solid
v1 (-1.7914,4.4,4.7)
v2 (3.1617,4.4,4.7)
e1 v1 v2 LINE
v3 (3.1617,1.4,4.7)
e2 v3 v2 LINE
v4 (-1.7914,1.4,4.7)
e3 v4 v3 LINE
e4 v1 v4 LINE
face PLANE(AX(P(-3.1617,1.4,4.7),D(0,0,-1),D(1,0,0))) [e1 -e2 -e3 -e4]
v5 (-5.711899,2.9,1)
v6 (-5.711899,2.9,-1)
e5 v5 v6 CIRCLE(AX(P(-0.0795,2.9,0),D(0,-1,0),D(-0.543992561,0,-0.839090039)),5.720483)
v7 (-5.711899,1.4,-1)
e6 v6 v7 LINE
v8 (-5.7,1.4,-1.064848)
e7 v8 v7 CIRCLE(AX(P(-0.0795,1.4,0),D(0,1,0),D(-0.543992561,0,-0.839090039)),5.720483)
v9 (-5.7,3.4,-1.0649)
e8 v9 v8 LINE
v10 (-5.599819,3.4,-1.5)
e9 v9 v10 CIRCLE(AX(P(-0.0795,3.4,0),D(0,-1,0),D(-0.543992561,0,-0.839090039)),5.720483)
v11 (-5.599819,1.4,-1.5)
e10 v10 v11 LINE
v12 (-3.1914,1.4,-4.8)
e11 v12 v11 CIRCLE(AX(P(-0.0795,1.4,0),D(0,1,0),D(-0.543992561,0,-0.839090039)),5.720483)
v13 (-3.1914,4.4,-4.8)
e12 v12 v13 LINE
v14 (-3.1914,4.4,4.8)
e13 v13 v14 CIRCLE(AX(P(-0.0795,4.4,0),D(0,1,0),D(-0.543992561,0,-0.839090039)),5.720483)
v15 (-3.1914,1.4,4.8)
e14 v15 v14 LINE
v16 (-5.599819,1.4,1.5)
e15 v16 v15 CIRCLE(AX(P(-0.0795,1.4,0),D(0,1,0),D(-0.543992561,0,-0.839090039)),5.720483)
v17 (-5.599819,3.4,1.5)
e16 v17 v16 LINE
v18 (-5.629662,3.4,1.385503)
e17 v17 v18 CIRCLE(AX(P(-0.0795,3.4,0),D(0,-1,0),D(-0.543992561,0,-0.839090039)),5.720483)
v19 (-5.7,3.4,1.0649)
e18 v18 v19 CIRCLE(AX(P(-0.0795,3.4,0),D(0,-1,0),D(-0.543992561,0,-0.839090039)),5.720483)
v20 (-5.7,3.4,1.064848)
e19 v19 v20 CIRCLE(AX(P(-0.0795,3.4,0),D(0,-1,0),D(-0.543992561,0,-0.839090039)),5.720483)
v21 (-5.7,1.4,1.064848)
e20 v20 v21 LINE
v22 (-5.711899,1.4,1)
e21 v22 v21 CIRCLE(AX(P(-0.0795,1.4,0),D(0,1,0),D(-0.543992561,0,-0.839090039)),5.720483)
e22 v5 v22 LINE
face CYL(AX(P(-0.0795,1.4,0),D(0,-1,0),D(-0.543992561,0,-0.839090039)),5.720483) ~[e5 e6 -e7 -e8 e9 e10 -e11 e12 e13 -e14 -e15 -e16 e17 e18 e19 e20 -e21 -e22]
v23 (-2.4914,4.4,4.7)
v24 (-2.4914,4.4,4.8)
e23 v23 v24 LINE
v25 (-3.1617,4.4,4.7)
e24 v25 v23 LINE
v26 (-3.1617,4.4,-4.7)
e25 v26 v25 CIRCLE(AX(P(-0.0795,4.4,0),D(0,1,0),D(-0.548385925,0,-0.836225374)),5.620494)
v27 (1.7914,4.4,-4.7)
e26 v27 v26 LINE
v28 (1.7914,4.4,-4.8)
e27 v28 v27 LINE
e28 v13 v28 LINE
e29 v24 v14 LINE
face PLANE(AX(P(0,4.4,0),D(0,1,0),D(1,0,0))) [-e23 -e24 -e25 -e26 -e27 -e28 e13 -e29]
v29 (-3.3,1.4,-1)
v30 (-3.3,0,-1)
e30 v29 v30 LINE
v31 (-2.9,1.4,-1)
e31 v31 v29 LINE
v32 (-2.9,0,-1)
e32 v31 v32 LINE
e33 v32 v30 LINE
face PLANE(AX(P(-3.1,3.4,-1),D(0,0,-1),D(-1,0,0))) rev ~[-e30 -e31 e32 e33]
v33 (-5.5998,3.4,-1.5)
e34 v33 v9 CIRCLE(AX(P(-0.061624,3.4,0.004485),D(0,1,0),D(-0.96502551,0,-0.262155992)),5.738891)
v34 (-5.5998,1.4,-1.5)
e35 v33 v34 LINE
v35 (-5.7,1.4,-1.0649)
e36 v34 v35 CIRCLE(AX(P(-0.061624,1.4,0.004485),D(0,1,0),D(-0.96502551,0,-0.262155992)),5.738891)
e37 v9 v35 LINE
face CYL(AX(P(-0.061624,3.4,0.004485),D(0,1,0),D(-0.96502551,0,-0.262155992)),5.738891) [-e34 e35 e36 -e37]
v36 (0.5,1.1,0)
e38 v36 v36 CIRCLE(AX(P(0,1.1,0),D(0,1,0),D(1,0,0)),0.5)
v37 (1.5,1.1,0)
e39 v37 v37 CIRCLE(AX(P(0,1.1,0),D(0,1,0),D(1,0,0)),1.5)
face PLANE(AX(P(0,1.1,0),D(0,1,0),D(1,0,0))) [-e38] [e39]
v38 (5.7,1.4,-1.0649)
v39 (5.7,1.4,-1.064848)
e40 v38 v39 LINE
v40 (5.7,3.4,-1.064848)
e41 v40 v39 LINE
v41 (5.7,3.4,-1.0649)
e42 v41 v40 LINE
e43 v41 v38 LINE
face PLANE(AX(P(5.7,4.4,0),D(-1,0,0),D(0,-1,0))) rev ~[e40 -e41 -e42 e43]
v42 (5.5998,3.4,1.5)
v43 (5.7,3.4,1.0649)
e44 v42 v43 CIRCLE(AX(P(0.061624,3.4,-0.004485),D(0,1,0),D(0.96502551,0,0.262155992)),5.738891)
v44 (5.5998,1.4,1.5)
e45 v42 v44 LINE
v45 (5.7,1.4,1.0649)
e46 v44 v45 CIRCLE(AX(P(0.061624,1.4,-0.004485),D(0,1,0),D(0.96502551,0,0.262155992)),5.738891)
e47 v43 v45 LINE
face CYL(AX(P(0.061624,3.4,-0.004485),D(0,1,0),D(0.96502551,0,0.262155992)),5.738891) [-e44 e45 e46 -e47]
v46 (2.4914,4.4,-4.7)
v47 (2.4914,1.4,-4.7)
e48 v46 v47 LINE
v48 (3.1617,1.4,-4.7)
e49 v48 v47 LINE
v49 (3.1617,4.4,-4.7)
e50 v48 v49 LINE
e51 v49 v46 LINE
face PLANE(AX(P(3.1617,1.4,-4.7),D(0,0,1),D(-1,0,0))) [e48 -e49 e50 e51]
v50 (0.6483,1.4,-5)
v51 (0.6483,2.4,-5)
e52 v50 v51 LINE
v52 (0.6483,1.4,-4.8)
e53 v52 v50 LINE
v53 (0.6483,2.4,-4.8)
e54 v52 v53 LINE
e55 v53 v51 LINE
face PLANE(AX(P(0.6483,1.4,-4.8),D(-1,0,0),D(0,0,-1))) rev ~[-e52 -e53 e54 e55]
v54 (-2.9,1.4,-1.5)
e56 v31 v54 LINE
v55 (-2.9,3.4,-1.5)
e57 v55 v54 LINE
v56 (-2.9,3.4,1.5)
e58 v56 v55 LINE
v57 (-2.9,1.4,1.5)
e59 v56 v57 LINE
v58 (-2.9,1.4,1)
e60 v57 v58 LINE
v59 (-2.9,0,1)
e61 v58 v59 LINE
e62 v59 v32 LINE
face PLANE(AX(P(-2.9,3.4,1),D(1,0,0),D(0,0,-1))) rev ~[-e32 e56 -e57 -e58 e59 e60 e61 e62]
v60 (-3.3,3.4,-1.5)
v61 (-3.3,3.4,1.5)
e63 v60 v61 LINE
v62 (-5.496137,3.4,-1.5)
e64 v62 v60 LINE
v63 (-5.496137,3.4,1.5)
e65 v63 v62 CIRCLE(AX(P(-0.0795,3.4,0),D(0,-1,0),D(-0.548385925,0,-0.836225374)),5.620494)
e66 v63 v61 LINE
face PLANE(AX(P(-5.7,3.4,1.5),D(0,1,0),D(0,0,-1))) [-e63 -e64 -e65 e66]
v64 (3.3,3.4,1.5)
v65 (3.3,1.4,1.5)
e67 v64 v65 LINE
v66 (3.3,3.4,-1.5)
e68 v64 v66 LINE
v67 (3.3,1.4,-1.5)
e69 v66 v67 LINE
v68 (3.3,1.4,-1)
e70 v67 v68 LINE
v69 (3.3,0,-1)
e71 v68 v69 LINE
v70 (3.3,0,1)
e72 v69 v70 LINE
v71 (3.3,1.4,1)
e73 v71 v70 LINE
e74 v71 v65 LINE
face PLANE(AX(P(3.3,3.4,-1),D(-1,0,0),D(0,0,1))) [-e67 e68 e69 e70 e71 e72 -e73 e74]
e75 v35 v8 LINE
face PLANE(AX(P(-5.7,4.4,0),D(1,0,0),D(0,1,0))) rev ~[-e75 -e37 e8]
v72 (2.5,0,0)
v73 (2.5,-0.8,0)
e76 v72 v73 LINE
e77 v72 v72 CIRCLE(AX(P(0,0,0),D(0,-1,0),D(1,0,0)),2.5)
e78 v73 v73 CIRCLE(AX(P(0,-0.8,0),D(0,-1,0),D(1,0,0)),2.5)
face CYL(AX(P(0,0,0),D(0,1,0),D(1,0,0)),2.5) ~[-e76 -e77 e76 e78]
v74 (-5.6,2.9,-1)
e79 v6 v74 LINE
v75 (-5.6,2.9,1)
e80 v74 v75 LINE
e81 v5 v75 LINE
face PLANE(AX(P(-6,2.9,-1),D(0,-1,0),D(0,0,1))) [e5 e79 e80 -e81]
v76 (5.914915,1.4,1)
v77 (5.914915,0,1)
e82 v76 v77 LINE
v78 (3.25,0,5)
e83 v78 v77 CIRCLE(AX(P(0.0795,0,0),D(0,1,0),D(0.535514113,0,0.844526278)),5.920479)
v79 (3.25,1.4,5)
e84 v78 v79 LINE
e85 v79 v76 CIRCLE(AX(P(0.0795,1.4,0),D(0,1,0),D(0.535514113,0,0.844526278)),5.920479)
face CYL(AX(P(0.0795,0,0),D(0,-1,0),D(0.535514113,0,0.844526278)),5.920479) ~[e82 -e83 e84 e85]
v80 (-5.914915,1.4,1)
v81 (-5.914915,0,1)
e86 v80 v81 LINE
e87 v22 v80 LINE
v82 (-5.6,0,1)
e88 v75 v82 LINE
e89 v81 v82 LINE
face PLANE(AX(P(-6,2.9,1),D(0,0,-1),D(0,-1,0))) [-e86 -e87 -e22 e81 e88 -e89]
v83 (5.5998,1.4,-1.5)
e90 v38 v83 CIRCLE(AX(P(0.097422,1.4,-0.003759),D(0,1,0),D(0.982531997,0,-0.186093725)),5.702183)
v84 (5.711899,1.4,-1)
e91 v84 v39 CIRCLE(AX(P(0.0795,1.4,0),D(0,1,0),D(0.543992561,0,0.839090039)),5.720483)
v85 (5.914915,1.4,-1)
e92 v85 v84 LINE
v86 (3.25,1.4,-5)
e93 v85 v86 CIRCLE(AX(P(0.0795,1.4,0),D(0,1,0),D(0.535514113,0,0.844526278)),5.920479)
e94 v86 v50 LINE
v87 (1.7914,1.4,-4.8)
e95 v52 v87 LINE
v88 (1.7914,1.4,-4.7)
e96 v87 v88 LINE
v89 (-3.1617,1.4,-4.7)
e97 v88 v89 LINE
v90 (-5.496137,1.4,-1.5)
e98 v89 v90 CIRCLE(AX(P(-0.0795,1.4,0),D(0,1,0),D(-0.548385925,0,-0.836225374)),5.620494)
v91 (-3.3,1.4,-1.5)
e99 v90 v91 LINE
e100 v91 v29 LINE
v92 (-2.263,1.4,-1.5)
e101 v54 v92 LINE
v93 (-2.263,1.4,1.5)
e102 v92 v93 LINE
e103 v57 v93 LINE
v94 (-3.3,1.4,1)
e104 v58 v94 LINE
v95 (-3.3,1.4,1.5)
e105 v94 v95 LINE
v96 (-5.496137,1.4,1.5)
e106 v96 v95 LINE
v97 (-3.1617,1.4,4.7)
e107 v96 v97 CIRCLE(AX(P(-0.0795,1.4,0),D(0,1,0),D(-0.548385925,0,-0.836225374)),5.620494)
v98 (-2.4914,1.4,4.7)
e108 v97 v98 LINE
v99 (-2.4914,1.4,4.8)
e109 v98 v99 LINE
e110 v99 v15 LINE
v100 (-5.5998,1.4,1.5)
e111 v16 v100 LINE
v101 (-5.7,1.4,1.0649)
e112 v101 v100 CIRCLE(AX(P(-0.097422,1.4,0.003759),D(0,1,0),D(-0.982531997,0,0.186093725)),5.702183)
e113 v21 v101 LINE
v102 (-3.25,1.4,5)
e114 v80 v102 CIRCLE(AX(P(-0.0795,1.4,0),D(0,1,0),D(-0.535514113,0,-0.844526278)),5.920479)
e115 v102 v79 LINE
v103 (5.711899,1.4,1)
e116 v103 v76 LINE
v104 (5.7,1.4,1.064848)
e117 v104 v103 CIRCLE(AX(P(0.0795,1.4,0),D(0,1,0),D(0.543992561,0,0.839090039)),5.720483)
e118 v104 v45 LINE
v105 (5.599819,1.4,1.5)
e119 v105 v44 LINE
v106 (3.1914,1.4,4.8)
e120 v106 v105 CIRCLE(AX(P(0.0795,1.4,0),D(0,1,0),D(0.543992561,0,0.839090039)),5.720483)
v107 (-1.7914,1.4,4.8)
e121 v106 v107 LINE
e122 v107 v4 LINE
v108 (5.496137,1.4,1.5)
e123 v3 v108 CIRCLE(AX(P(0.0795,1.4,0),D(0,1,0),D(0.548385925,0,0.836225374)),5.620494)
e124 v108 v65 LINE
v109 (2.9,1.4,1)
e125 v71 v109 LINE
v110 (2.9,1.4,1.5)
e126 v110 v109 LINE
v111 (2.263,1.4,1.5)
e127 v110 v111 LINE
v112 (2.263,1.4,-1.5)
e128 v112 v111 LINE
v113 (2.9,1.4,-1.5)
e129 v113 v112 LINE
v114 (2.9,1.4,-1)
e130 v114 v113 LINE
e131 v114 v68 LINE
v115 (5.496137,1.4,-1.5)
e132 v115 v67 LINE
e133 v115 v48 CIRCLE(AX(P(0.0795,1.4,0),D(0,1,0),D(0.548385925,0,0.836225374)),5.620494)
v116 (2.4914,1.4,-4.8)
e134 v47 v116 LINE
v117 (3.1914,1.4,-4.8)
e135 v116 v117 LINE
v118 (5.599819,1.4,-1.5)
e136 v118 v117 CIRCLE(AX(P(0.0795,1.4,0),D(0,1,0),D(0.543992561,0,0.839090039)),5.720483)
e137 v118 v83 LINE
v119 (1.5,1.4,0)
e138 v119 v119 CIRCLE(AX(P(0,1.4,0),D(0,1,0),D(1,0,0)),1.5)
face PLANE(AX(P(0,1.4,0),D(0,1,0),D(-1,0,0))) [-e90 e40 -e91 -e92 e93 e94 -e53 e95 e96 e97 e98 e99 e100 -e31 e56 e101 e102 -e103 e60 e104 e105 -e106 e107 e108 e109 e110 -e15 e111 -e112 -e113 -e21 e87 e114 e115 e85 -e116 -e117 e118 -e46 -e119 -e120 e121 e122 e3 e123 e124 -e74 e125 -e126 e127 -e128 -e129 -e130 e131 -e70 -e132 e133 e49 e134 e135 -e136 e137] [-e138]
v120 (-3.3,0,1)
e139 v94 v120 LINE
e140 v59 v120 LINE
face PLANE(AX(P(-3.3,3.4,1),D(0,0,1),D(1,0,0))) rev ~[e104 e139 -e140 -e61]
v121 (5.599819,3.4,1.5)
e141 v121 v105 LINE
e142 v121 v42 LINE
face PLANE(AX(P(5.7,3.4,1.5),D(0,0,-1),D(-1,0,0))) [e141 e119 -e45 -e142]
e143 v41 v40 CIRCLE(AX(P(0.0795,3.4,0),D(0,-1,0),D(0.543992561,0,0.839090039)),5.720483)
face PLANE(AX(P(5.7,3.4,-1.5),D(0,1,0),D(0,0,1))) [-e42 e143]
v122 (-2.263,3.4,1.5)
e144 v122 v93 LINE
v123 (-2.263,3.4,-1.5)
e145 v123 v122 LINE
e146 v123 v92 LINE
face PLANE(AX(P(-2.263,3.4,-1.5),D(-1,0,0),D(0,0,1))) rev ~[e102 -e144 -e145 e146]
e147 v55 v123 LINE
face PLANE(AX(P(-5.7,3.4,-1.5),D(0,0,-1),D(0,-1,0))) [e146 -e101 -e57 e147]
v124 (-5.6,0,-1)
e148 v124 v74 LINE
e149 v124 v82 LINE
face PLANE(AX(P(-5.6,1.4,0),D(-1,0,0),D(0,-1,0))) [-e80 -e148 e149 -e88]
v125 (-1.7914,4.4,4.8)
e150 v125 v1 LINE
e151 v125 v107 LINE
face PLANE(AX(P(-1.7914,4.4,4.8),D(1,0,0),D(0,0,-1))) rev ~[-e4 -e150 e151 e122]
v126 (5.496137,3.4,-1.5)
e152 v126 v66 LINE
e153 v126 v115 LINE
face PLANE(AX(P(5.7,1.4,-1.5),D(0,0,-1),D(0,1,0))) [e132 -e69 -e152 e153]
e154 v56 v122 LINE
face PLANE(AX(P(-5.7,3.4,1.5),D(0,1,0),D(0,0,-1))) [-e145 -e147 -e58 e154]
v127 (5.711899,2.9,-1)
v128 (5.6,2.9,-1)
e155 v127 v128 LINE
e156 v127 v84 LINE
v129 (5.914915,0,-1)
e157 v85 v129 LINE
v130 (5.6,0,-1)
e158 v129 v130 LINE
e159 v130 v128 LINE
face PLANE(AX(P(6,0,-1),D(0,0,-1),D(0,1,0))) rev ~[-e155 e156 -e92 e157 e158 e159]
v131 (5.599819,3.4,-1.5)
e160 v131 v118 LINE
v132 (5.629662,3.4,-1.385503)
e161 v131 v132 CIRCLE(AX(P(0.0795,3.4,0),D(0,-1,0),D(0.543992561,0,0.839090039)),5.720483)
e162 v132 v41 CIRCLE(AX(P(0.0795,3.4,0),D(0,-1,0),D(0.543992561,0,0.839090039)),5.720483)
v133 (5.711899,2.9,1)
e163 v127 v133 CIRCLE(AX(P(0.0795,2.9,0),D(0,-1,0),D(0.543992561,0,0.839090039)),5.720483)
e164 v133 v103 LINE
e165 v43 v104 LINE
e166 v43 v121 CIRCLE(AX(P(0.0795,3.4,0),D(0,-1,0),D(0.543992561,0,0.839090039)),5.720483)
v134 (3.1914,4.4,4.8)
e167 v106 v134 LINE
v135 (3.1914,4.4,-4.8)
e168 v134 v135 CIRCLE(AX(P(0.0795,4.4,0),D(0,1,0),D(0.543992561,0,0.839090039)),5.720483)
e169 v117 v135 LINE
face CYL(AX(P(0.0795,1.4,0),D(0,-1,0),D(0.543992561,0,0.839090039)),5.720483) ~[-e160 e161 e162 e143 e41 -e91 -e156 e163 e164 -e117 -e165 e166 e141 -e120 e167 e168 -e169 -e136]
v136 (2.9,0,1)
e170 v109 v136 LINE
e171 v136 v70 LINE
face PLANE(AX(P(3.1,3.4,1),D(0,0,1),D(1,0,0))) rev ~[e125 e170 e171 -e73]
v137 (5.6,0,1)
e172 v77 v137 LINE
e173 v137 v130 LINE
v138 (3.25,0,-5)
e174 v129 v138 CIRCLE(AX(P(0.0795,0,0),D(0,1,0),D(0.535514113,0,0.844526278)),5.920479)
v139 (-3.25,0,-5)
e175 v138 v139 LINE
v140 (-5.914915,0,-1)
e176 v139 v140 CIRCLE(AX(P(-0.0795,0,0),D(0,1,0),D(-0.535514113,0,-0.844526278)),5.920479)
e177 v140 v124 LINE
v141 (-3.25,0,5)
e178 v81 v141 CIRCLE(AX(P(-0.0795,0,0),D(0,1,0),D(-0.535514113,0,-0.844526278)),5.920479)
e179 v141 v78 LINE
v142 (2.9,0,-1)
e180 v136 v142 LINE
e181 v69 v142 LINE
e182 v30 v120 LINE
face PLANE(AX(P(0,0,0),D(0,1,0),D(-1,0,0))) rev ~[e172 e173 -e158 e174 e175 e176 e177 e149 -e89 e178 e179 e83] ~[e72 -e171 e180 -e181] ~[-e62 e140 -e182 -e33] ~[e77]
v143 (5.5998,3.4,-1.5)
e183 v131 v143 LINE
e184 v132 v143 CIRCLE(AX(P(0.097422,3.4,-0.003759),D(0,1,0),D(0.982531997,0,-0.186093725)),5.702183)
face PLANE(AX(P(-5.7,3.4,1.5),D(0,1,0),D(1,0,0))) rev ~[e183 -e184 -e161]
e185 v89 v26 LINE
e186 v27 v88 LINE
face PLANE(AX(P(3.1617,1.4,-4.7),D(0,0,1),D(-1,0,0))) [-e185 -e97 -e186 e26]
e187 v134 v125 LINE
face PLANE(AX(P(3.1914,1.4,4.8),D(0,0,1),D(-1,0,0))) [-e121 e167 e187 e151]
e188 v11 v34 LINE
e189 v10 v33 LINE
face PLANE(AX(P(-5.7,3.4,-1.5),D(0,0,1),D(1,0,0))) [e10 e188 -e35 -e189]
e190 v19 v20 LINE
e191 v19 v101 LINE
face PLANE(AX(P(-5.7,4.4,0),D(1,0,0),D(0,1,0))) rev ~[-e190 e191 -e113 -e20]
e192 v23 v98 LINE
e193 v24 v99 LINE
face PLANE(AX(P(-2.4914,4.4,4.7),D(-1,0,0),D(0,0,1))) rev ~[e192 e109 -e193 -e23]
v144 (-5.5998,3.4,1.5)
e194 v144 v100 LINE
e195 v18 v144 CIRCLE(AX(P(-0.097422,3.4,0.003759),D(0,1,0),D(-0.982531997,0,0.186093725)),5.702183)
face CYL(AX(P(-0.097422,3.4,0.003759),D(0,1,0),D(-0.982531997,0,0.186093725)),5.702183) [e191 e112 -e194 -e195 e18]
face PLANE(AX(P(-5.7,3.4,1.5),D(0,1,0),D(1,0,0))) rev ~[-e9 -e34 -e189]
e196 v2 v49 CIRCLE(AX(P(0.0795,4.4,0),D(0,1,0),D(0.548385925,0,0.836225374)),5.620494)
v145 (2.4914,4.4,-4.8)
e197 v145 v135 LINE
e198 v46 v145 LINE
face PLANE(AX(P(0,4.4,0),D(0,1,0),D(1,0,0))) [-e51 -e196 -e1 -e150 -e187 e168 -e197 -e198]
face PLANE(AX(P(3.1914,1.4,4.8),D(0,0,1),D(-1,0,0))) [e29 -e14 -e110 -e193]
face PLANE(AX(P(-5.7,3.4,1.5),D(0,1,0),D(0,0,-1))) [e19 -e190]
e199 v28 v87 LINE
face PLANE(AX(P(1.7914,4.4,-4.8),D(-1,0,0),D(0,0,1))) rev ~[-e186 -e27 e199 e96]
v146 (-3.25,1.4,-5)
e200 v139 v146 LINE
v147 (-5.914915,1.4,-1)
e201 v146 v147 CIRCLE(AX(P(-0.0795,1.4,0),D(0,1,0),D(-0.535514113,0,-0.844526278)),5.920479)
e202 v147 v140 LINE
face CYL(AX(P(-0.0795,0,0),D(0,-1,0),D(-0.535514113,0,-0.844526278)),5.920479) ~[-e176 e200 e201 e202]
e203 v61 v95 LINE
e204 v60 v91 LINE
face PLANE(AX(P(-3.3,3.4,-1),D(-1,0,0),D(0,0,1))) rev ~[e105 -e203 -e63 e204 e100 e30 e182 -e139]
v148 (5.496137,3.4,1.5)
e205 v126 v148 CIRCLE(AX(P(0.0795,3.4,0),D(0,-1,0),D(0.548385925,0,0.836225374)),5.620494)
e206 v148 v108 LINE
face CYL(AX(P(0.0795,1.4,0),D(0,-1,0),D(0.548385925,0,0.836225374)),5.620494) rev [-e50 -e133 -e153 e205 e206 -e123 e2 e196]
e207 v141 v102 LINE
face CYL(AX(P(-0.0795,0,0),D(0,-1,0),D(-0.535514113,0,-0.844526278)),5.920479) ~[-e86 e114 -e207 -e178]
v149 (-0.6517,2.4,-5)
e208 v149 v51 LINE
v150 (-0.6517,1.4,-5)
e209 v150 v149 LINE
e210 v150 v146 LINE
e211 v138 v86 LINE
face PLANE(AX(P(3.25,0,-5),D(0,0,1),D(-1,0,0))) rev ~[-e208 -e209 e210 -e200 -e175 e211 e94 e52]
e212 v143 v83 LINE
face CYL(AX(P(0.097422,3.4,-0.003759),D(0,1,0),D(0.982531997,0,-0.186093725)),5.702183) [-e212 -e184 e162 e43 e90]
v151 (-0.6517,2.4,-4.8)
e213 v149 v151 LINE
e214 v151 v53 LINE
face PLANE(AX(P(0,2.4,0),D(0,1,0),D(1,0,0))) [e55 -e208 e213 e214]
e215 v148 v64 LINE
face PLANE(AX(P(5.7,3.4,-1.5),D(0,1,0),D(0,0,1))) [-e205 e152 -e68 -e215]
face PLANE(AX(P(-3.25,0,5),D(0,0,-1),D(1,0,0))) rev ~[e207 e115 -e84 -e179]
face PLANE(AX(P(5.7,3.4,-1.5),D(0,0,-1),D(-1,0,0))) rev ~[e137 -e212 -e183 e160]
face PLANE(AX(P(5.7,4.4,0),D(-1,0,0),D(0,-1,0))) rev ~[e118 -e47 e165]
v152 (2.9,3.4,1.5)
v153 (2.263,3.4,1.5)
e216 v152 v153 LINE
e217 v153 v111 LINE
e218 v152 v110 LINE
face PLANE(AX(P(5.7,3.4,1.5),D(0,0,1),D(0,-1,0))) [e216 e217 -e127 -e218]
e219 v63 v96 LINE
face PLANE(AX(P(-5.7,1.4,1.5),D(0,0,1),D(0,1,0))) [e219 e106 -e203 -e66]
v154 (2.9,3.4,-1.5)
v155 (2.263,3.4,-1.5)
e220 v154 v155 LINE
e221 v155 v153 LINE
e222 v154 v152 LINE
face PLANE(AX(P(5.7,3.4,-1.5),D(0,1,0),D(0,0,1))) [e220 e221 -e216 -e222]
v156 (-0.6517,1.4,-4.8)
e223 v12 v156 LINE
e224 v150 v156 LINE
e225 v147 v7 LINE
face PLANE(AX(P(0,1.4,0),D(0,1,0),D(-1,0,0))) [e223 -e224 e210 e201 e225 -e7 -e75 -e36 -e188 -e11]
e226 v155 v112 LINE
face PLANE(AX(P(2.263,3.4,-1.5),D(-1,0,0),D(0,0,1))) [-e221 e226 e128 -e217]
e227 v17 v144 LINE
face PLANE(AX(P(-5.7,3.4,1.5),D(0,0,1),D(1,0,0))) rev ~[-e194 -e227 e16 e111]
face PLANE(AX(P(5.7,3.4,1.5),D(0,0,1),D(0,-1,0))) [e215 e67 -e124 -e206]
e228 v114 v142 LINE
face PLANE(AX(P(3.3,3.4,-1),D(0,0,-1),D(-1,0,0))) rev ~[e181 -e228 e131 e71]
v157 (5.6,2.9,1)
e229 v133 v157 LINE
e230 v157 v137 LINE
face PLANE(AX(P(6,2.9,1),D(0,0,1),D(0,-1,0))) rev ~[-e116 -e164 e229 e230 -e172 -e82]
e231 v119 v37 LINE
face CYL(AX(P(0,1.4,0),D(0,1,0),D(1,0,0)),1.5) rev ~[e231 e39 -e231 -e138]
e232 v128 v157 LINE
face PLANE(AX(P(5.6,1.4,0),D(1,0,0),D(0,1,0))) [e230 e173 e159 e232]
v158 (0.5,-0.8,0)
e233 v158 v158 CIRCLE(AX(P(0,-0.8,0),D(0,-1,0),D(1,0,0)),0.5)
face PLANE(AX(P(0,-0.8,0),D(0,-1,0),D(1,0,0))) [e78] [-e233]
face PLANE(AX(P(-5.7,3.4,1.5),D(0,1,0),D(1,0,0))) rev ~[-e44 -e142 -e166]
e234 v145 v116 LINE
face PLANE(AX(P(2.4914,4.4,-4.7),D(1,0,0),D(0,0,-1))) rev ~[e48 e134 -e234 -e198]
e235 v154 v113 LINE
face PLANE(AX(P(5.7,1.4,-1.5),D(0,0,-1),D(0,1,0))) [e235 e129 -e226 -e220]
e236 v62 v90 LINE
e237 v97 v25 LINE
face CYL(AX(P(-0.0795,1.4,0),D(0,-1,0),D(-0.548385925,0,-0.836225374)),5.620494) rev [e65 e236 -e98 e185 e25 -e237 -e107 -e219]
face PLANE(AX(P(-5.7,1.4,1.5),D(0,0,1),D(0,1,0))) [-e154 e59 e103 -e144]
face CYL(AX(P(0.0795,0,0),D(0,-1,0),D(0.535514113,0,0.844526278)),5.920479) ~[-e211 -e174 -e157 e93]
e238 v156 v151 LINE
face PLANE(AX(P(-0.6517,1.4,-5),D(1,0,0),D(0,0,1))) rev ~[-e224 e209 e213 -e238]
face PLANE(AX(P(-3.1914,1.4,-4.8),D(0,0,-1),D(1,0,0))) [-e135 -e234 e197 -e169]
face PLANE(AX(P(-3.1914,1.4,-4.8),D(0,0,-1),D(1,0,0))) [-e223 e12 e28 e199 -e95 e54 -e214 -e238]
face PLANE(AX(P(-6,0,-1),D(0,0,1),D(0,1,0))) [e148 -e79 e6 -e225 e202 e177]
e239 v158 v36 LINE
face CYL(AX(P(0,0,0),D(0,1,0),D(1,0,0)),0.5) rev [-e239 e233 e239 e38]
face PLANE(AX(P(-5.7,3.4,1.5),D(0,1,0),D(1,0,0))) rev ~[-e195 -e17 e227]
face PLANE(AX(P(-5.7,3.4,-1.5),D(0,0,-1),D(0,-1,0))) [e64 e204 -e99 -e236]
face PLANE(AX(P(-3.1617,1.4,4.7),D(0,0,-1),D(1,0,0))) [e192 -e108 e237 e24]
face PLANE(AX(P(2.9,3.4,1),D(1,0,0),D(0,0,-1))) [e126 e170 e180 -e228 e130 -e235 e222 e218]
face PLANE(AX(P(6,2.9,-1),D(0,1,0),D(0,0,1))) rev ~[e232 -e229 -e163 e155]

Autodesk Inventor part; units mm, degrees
sketch "Esboço1" plane through (0, 0, 0) normal (0, 1, 0) x (-1, 0, 0)
  line L0 (3.25, 5) -> (-3.25, 5)
  line L1 (-3.25, -5) -> (3.25, -5)
  arc A0 (3.25, -5) -> (3.25, 5) centre (0.0795, 0) ccw
  arc A1 (-3.25, 5) -> (-3.25, -5) centre (-0.0795, 0) ccw
  line L2 (3.25, 5) -> (-3.25, 5)
  line L3 (-3.25, -5) -> (3.25, -5)
  line L4 (4.595, 3.8292) -> (-4.595, -3.8292) construction
  line L5 (-4.595, 3.8292) -> (4.595, -3.8292) construction
  line L6 (3.1014, -4.5) -> (-3.1014, -4.5)
  arc A2 (-3.1014, 4.5) -> (-3.1014, -4.5) centre (-0.0795, 0) ccw
  line L7 (-3.1014, 4.5) -> (3.1014, 4.5)
  arc A3 (3.1014, -4.5) -> (3.1014, 4.5) centre (0.0795, 0) ccw
  point P0 (0, 0)
  point P1 (0, 0)
extrude "Extrusão1" add sketch "Esboço1" along normal blind 1.4 contours A0 L1 A1 L0 | L6 A2 L7 A3
sketch "Esboço13" plane through (0, 1.4, 0) normal (0, 1, 0) x (1, 0, 0)
  line L0 (-3.25, -5) -> (3.25, -5)
  arc A0 (3.25, -5) -> (3.25, 5) centre (0.0795, 0) ccw
  line L1 (3.25, 5) -> (-3.25, 5)
  arc A1 (-3.25, 5) -> (-3.25, -5) centre (-0.0795, 0) ccw
  line L2 (-3.1914, 4.8) -> (3.1914, 4.8)
  arc A2 (3.1914, -4.8) -> (3.1914, 4.8) centre (0.0795, 0) ccw
  line L3 (3.1914, -4.8) -> (-3.1914, -4.8)
  arc A3 (-3.1914, 4.8) -> (-3.1914, -4.8) centre (-0.0795, 0) ccw
  line L4 (3.25, 5) -> (-3.25, 5) projected
  line L5 (0.6483, 5) -> (-0.6517, 5)
  line L6 (-0.6517, 5) -> (-0.6517, 4.8)
  line L7 (-0.6517, 4.8) -> (0.6483, 4.8)
  line L8 (0.6483, 4.8) -> (0.6483, 5)
  line L9 (3.1617, 4.7) -> (-3.1617, 4.7)
  arc A4 (-3.1617, 4.7) -> (-3.1617, -4.7) centre (-0.0795, 0) ccw
  line L10 (-3.1617, -4.7) -> (3.1617, -4.7)
  arc A5 (3.1617, -4.7) -> (3.1617, 4.7) centre (0.0795, 0) ccw
  line L11 (-0.0017, 4.8) -> (-0.0017, 5)
  point P0 (0.6483, 4.8)
  dimension "d45" = 1.3
extrude "Extrusão13" add sketch "Esboço13" along normal blind 3 contours L2 A2 L3 A3
sketch "Esboço14" plane through (0, 4.4, 0) normal (0, 1, 0) x (1, 0, 0)
  line L0 (-3.1914, 4.8) -> (3.1914, 4.8) projected
  line L1 (3.1914, 4.8) -> (2.4914, 4.8)
  line L2 (3.1617, 4.7) -> (-3.1617, 4.7) projected
  line L3 (2.4914, 4.8) -> (1.7914, 4.8)
  line L4 (1.7914, 4.8) -> (1.7914, 4.7)
  line L5 (1.7914, 4.7) -> (2.4914, 4.7)
  line L6 (2.4914, 4.7) -> (2.4914, 4.8)
  arc A0 (-3.1914, 4.8) -> (-3.1914, -4.8) centre (-0.0795, 0) ccw projected
  line L7 (-3.1914, -4.8) -> (-2.4914, -4.8)
  line L8 (-3.1914, -4.8) -> (3.1914, -4.8) projected
  line L9 (3.1617, -4.7) -> (-3.1617, -4.7) projected
  line L10 (-2.4914, -4.8) -> (-1.7914, -4.8)
  line L11 (-1.7914, -4.8) -> (-1.7914, -4.7)
  line L12 (-1.7914, -4.7) -> (-2.4914, -4.7)
  line L13 (-2.4914, -4.7) -> (-2.4914, -4.8)
  point P0 (0, 0)
  point P1 (0.75, 4.8)
  dimension "d48" = 0.7
  dimension "d49" = 0.7
  dimension "d50" = 0.7
  dimension "d51" = 0.7
extrude "Extrusão14" cut sketch "Esboço14" against normal blind 3
extrude "Extrusão15" add sketch "Esboço13" along normal blind 1 contours L1 L11 L2 L6 | L8 L2 L11 L1
ref_plane "Plano de trabalho3" through (6, 0, 0) normal (1, 0, 0) x (0, 1, 0)
sketch "Esboço15" plane through (6, 0, 0) normal (1, 0, 0) x (0, 1, 0)
  line L0 (0, 1) -> (2.4, 1)
  line L1 (2.4, 1) -> (2.4, -1)
  line L2 (2.4, -1) -> (0, -1)
  line L3 (0, -1) -> (0, 1)
  point P0 (0, 0)
  dimension "d56" = 2
ref_plane "Plano de trabalho4" through (-6, 0, 0) normal (-1, 0, 0) x (0, -1, 0)
sketch "Esboço16" plane through (-6, 0, 0) normal (-1, 0, 0) x (0, -1, 0)
  line L0 (-2.4, -1) -> (0, -1)
  line L1 (-2.4, 1) -> (-2.4, -1)
  line L2 (0, 1) -> (-2.4, 1)
  line L3 (0, -1) -> (0, 1)
  point P0 (0, 0)
ref_plane "Plano de trabalho5" through (-5.7, 4.4, 0) normal (1, 0, 0) x (0, 1, 0)
sketch "Esboço17" plane through (-5.7, 4.4, 0) normal (1, 0, 0) x (0, 1, 0)
  line L0 (-3, -4.7) -> (-3, 4.7) projected
  line L1 (-3, 1.5) -> (-1, 1.5)
  line L2 (-1, 1.5) -> (-1, -1.5)
  line L3 (-1, -1.5) -> (-3, -1.5)
  line L4 (-3, -1.5) -> (-3, 1.5)
  point P0 (-4.4, 0)
  dimension "d57" = 2
  dimension "d58" = 3
extrude "Extrusão16" add sketch "Esboço17" along normal blind 3.537
ref_plane "Plano de trabalho6" through (5.7, 4.4, 0) normal (-1, 0, 0) x (0, -1, 0)
sketch "Esboço18" plane through (5.7, 4.4, 0) normal (-1, 0, 0) x (0, -1, 0)
  line L0 (1, 1.5) -> (3, 1.5) projected
  line L1 (3, -1.5) -> (3, 1.5) projected
  line L2 (3, -1.5) -> (1, -1.5) projected
  line L3 (1, -1.5) -> (1, 1.5) projected
  point P0 (4.4, 0)
extrude "Extrusão17" add sketch "Esboço18" along normal blind 3.537
sketch "Esboço20" plane through (2.163, 3.4, -1.5) normal (0, 1, 0) x (1, 0, 0)
  circle A0 centre (-2.163, -1.5) radius 1.5
  line L0 (-7.6591, 0) -> (-4.326, 0) projected
  line L1 (-4.326, -3) -> (-7.6591, -3) projected
  line L2 (-5.063, 0) -> (-5.463, 0)
  line L3 (-5.463, 0) -> (-5.463, -3)
  line L4 (-5.463, -3) -> (-5.063, -3)
  line L5 (-5.063, -3) -> (-5.063, 0)
  line L6 (-5.263, 0) -> (-5.263, -3)
  line L7 (-7.6591, 0) -> (-4.326, 0) projected
  line L8 (-7.6591, -3) -> (-4.326, -3) projected
  line L9 (-4.326, 0) -> (-4.426, 0)
  line L10 (-4.426, 0) -> (-4.426, -3)
  line L11 (-4.426, -3) -> (-4.326, -3)
  line L12 (-4.326, -3) -> (-4.326, 0)
  line L13 (-2.163, -4.6901) -> (-2.163, 0.7868)
  line L14 (3.3331, 0) -> (0, 0)
  line L15 (0, -3) -> (3.3331, -3)
  line L16 (0.737, 0) -> (1.137, 0)
  line L17 (1.137, 0) -> (1.137, -3)
  line L18 (1.137, -3) -> (0.737, -3)
  line L19 (0.737, -3) -> (0.737, 0)
  line L20 (0.937, 0) -> (0.937, -3)
  line L21 (3.3331, 0) -> (0, 0)
  line L22 (3.3331, -3) -> (0, -3)
  line L23 (0, 0) -> (0.1, 0)
  line L24 (0.1, 0) -> (0.1, -3)
  line L25 (0.1, -3) -> (0, -3)
  line L26 (0, -3) -> (0, 0)
  line L27 (0.737, -2.5) -> (1.137, -2.5)
  line L28 (1.137, -2.5) -> (1.137, -0.5)
  line L29 (1.137, -0.5) -> (0.737, -0.5)
  line L30 (0.737, -0.5) -> (0.737, -2.5)
  line L31 (0.737, -2.5) -> (1.137, -0.5) construction
  line L32 (1.137, -2.5) -> (0.737, -0.5) construction
  line L33 (-5.463, -2.5) -> (-5.063, -2.5)
  line L34 (-5.063, -2.5) -> (-5.063, -0.5)
  line L35 (-5.063, -0.5) -> (-5.463, -0.5)
  line L36 (-5.463, -0.5) -> (-5.463, -2.5)
  line L37 (-5.463, -2.5) -> (-5.063, -0.5) construction
  line L38 (-5.063, -2.5) -> (-5.463, -0.5) construction
  point P0 (-2.163, -1.5)
  point P1 (-5.463, 0)
  point P2 (1.137, 0)
  point P3 (0.937, -1.5)
  point P4 (-5.263, -1.5)
  point P5 (0.737, -0.5)
  point P6 (0.737, -2.5)
  point P7 (1.137, -2.5)
  dimension "d68" = 3
  dimension "d69" = 0.4
  dimension "d70" = 3.1
  dimension "d71" = 0.1
  dimension "d101" = 2
extrude "Extrusão18" cut sketch "Esboço20" against normal blind 2 contours L0 L12 L1 L10 | L24 L15 L26 L14
extrude "Extrusão19" cut sketch "Esboço20" against normal blind 3.4 contours L35 L6 L33 L3 | L35 L5 L33 L6 | L17 L27 L20 L29 | L20 L27 L19 L29
sketch "Esboço21" plane through (0, 1.4, 0) normal (0, 1, 0) x (1, 0, 0)
  circle A0 centre (0, 0) radius 1.5
  circle A1 centre (0, 0) radius 0.5
  dimension "d76" = 3
  dimension "d79" = 1
extrude "Extrusão20" cut sketch "Esboço21" against normal blind 0.3 contours A0 | A1
extrude "Extrusão21" cut sketch "Esboço21" against normal blind 1.55 contours A1
sketch "Esboço22" plane through (-5.7, 3.4, 1.5) normal (0, 1, 0) x (1, 0, 0)
  arc A0 (0.1002, 3) -> (0, 2.5649) centre (5.6205, 1.5) ccw projected
  line L0 (0, 3) -> (0.1002, 3) projected
  line L1 (0, 3) -> (0, 2.5649) projected
  arc A1 (0, 0.4351) -> (0.1002, 0) centre (5.6205, 1.5) ccw projected
  line L2 (0, 0.4351) -> (0, 0) projected
  line L3 (0, 0) -> (0.1002, 0) projected
  arc A2 (11.4, 2.5649) -> (11.2998, 3) centre (5.7795, 1.5) ccw projected
  line L4 (11.4, 2.5649) -> (11.4, 3) projected
  line L5 (11.4, 3) -> (11.2998, 3) projected
  arc A3 (11.2998, 0) -> (11.4, 0.4351) centre (5.7795, 1.5) ccw projected
  line L6 (11.4, 0) -> (11.2998, 0) projected
  line L7 (11.4, 0) -> (11.4, 0.4351) projected
  point P0 (5.7, 1.5)
extrude "Extrusão22" cut sketch "Esboço22" against normal blind 2
sketch "Esboço23" plane through (0, 0, 0) normal (0, -1, 0) x (1, 0, 0)
  circle A0 centre (0, 0) radius 0.5 projected
  circle A1 centre (0, 0) radius 2.5
  dimension "d84" = 5
extrude "Extrusão23" add sketch "Esboço23" along normal blind 0.8
ref_plane "Plano de trabalho7" through (-6, 1.4, 0) normal (-1, 0, 0) x (0, -1, 0)
ref_plane "Plano de trabalho8" through (6, 1.4, 0) normal (1, 0, 0) x (0, 1, 0)
sketch "Esboço24" plane through (-6, 1.4, 0) normal (-1, 0, 0) x (0, -1, 0)
  line L0 (1.4, 0) -> (-1.5, 0)
  line L1 (1.4, 5) -> (1.4, -5) projected
  line L2 (1.4, -1) -> (-1.5, -1)
  line L3 (-1.5, -1) -> (-1.5, 1)
  line L4 (-1.5, 1) -> (1.4, 1)
  line L5 (1.4, 1) -> (1.4, -1)
  dimension "d87" = 2.9
  dimension "d88" = 2
  dimension "d89" = 2.9
extrude "Extrusão24" cut sketch "Esboço24" against normal blind 0.4
sketch "Esboço25" plane through (6, 1.4, 0) normal (1, 0, 0) x (0, 1, 0)
  line L0 (1.5, -1) -> (1.5, 1) projected
  line L1 (-1.4, -1) -> (1.5, -1) projected
  line L2 (-1.4, 1) -> (-1.4, -1) projected
  line L3 (1.5, 1) -> (-1.4, 1) projected
  point P0 (-1.4, 0)
extrude "Extrusão25" cut sketch "Esboço25" against normal blind 0.4
extrude "Extrusão26" cut sketch "Esboço20" against normal blind 2 contours L0 L6 L35 L3 | L0 L5 L35 L6 | L33 L6 L1 L3 | L33 L5 L1 L6 | L17 L29 L20 L14 | L20 L29 L19 L14 | L17 L15 L20 L27 | L20 L15 L19 L27
properties part number "Base" material "Ouro"
